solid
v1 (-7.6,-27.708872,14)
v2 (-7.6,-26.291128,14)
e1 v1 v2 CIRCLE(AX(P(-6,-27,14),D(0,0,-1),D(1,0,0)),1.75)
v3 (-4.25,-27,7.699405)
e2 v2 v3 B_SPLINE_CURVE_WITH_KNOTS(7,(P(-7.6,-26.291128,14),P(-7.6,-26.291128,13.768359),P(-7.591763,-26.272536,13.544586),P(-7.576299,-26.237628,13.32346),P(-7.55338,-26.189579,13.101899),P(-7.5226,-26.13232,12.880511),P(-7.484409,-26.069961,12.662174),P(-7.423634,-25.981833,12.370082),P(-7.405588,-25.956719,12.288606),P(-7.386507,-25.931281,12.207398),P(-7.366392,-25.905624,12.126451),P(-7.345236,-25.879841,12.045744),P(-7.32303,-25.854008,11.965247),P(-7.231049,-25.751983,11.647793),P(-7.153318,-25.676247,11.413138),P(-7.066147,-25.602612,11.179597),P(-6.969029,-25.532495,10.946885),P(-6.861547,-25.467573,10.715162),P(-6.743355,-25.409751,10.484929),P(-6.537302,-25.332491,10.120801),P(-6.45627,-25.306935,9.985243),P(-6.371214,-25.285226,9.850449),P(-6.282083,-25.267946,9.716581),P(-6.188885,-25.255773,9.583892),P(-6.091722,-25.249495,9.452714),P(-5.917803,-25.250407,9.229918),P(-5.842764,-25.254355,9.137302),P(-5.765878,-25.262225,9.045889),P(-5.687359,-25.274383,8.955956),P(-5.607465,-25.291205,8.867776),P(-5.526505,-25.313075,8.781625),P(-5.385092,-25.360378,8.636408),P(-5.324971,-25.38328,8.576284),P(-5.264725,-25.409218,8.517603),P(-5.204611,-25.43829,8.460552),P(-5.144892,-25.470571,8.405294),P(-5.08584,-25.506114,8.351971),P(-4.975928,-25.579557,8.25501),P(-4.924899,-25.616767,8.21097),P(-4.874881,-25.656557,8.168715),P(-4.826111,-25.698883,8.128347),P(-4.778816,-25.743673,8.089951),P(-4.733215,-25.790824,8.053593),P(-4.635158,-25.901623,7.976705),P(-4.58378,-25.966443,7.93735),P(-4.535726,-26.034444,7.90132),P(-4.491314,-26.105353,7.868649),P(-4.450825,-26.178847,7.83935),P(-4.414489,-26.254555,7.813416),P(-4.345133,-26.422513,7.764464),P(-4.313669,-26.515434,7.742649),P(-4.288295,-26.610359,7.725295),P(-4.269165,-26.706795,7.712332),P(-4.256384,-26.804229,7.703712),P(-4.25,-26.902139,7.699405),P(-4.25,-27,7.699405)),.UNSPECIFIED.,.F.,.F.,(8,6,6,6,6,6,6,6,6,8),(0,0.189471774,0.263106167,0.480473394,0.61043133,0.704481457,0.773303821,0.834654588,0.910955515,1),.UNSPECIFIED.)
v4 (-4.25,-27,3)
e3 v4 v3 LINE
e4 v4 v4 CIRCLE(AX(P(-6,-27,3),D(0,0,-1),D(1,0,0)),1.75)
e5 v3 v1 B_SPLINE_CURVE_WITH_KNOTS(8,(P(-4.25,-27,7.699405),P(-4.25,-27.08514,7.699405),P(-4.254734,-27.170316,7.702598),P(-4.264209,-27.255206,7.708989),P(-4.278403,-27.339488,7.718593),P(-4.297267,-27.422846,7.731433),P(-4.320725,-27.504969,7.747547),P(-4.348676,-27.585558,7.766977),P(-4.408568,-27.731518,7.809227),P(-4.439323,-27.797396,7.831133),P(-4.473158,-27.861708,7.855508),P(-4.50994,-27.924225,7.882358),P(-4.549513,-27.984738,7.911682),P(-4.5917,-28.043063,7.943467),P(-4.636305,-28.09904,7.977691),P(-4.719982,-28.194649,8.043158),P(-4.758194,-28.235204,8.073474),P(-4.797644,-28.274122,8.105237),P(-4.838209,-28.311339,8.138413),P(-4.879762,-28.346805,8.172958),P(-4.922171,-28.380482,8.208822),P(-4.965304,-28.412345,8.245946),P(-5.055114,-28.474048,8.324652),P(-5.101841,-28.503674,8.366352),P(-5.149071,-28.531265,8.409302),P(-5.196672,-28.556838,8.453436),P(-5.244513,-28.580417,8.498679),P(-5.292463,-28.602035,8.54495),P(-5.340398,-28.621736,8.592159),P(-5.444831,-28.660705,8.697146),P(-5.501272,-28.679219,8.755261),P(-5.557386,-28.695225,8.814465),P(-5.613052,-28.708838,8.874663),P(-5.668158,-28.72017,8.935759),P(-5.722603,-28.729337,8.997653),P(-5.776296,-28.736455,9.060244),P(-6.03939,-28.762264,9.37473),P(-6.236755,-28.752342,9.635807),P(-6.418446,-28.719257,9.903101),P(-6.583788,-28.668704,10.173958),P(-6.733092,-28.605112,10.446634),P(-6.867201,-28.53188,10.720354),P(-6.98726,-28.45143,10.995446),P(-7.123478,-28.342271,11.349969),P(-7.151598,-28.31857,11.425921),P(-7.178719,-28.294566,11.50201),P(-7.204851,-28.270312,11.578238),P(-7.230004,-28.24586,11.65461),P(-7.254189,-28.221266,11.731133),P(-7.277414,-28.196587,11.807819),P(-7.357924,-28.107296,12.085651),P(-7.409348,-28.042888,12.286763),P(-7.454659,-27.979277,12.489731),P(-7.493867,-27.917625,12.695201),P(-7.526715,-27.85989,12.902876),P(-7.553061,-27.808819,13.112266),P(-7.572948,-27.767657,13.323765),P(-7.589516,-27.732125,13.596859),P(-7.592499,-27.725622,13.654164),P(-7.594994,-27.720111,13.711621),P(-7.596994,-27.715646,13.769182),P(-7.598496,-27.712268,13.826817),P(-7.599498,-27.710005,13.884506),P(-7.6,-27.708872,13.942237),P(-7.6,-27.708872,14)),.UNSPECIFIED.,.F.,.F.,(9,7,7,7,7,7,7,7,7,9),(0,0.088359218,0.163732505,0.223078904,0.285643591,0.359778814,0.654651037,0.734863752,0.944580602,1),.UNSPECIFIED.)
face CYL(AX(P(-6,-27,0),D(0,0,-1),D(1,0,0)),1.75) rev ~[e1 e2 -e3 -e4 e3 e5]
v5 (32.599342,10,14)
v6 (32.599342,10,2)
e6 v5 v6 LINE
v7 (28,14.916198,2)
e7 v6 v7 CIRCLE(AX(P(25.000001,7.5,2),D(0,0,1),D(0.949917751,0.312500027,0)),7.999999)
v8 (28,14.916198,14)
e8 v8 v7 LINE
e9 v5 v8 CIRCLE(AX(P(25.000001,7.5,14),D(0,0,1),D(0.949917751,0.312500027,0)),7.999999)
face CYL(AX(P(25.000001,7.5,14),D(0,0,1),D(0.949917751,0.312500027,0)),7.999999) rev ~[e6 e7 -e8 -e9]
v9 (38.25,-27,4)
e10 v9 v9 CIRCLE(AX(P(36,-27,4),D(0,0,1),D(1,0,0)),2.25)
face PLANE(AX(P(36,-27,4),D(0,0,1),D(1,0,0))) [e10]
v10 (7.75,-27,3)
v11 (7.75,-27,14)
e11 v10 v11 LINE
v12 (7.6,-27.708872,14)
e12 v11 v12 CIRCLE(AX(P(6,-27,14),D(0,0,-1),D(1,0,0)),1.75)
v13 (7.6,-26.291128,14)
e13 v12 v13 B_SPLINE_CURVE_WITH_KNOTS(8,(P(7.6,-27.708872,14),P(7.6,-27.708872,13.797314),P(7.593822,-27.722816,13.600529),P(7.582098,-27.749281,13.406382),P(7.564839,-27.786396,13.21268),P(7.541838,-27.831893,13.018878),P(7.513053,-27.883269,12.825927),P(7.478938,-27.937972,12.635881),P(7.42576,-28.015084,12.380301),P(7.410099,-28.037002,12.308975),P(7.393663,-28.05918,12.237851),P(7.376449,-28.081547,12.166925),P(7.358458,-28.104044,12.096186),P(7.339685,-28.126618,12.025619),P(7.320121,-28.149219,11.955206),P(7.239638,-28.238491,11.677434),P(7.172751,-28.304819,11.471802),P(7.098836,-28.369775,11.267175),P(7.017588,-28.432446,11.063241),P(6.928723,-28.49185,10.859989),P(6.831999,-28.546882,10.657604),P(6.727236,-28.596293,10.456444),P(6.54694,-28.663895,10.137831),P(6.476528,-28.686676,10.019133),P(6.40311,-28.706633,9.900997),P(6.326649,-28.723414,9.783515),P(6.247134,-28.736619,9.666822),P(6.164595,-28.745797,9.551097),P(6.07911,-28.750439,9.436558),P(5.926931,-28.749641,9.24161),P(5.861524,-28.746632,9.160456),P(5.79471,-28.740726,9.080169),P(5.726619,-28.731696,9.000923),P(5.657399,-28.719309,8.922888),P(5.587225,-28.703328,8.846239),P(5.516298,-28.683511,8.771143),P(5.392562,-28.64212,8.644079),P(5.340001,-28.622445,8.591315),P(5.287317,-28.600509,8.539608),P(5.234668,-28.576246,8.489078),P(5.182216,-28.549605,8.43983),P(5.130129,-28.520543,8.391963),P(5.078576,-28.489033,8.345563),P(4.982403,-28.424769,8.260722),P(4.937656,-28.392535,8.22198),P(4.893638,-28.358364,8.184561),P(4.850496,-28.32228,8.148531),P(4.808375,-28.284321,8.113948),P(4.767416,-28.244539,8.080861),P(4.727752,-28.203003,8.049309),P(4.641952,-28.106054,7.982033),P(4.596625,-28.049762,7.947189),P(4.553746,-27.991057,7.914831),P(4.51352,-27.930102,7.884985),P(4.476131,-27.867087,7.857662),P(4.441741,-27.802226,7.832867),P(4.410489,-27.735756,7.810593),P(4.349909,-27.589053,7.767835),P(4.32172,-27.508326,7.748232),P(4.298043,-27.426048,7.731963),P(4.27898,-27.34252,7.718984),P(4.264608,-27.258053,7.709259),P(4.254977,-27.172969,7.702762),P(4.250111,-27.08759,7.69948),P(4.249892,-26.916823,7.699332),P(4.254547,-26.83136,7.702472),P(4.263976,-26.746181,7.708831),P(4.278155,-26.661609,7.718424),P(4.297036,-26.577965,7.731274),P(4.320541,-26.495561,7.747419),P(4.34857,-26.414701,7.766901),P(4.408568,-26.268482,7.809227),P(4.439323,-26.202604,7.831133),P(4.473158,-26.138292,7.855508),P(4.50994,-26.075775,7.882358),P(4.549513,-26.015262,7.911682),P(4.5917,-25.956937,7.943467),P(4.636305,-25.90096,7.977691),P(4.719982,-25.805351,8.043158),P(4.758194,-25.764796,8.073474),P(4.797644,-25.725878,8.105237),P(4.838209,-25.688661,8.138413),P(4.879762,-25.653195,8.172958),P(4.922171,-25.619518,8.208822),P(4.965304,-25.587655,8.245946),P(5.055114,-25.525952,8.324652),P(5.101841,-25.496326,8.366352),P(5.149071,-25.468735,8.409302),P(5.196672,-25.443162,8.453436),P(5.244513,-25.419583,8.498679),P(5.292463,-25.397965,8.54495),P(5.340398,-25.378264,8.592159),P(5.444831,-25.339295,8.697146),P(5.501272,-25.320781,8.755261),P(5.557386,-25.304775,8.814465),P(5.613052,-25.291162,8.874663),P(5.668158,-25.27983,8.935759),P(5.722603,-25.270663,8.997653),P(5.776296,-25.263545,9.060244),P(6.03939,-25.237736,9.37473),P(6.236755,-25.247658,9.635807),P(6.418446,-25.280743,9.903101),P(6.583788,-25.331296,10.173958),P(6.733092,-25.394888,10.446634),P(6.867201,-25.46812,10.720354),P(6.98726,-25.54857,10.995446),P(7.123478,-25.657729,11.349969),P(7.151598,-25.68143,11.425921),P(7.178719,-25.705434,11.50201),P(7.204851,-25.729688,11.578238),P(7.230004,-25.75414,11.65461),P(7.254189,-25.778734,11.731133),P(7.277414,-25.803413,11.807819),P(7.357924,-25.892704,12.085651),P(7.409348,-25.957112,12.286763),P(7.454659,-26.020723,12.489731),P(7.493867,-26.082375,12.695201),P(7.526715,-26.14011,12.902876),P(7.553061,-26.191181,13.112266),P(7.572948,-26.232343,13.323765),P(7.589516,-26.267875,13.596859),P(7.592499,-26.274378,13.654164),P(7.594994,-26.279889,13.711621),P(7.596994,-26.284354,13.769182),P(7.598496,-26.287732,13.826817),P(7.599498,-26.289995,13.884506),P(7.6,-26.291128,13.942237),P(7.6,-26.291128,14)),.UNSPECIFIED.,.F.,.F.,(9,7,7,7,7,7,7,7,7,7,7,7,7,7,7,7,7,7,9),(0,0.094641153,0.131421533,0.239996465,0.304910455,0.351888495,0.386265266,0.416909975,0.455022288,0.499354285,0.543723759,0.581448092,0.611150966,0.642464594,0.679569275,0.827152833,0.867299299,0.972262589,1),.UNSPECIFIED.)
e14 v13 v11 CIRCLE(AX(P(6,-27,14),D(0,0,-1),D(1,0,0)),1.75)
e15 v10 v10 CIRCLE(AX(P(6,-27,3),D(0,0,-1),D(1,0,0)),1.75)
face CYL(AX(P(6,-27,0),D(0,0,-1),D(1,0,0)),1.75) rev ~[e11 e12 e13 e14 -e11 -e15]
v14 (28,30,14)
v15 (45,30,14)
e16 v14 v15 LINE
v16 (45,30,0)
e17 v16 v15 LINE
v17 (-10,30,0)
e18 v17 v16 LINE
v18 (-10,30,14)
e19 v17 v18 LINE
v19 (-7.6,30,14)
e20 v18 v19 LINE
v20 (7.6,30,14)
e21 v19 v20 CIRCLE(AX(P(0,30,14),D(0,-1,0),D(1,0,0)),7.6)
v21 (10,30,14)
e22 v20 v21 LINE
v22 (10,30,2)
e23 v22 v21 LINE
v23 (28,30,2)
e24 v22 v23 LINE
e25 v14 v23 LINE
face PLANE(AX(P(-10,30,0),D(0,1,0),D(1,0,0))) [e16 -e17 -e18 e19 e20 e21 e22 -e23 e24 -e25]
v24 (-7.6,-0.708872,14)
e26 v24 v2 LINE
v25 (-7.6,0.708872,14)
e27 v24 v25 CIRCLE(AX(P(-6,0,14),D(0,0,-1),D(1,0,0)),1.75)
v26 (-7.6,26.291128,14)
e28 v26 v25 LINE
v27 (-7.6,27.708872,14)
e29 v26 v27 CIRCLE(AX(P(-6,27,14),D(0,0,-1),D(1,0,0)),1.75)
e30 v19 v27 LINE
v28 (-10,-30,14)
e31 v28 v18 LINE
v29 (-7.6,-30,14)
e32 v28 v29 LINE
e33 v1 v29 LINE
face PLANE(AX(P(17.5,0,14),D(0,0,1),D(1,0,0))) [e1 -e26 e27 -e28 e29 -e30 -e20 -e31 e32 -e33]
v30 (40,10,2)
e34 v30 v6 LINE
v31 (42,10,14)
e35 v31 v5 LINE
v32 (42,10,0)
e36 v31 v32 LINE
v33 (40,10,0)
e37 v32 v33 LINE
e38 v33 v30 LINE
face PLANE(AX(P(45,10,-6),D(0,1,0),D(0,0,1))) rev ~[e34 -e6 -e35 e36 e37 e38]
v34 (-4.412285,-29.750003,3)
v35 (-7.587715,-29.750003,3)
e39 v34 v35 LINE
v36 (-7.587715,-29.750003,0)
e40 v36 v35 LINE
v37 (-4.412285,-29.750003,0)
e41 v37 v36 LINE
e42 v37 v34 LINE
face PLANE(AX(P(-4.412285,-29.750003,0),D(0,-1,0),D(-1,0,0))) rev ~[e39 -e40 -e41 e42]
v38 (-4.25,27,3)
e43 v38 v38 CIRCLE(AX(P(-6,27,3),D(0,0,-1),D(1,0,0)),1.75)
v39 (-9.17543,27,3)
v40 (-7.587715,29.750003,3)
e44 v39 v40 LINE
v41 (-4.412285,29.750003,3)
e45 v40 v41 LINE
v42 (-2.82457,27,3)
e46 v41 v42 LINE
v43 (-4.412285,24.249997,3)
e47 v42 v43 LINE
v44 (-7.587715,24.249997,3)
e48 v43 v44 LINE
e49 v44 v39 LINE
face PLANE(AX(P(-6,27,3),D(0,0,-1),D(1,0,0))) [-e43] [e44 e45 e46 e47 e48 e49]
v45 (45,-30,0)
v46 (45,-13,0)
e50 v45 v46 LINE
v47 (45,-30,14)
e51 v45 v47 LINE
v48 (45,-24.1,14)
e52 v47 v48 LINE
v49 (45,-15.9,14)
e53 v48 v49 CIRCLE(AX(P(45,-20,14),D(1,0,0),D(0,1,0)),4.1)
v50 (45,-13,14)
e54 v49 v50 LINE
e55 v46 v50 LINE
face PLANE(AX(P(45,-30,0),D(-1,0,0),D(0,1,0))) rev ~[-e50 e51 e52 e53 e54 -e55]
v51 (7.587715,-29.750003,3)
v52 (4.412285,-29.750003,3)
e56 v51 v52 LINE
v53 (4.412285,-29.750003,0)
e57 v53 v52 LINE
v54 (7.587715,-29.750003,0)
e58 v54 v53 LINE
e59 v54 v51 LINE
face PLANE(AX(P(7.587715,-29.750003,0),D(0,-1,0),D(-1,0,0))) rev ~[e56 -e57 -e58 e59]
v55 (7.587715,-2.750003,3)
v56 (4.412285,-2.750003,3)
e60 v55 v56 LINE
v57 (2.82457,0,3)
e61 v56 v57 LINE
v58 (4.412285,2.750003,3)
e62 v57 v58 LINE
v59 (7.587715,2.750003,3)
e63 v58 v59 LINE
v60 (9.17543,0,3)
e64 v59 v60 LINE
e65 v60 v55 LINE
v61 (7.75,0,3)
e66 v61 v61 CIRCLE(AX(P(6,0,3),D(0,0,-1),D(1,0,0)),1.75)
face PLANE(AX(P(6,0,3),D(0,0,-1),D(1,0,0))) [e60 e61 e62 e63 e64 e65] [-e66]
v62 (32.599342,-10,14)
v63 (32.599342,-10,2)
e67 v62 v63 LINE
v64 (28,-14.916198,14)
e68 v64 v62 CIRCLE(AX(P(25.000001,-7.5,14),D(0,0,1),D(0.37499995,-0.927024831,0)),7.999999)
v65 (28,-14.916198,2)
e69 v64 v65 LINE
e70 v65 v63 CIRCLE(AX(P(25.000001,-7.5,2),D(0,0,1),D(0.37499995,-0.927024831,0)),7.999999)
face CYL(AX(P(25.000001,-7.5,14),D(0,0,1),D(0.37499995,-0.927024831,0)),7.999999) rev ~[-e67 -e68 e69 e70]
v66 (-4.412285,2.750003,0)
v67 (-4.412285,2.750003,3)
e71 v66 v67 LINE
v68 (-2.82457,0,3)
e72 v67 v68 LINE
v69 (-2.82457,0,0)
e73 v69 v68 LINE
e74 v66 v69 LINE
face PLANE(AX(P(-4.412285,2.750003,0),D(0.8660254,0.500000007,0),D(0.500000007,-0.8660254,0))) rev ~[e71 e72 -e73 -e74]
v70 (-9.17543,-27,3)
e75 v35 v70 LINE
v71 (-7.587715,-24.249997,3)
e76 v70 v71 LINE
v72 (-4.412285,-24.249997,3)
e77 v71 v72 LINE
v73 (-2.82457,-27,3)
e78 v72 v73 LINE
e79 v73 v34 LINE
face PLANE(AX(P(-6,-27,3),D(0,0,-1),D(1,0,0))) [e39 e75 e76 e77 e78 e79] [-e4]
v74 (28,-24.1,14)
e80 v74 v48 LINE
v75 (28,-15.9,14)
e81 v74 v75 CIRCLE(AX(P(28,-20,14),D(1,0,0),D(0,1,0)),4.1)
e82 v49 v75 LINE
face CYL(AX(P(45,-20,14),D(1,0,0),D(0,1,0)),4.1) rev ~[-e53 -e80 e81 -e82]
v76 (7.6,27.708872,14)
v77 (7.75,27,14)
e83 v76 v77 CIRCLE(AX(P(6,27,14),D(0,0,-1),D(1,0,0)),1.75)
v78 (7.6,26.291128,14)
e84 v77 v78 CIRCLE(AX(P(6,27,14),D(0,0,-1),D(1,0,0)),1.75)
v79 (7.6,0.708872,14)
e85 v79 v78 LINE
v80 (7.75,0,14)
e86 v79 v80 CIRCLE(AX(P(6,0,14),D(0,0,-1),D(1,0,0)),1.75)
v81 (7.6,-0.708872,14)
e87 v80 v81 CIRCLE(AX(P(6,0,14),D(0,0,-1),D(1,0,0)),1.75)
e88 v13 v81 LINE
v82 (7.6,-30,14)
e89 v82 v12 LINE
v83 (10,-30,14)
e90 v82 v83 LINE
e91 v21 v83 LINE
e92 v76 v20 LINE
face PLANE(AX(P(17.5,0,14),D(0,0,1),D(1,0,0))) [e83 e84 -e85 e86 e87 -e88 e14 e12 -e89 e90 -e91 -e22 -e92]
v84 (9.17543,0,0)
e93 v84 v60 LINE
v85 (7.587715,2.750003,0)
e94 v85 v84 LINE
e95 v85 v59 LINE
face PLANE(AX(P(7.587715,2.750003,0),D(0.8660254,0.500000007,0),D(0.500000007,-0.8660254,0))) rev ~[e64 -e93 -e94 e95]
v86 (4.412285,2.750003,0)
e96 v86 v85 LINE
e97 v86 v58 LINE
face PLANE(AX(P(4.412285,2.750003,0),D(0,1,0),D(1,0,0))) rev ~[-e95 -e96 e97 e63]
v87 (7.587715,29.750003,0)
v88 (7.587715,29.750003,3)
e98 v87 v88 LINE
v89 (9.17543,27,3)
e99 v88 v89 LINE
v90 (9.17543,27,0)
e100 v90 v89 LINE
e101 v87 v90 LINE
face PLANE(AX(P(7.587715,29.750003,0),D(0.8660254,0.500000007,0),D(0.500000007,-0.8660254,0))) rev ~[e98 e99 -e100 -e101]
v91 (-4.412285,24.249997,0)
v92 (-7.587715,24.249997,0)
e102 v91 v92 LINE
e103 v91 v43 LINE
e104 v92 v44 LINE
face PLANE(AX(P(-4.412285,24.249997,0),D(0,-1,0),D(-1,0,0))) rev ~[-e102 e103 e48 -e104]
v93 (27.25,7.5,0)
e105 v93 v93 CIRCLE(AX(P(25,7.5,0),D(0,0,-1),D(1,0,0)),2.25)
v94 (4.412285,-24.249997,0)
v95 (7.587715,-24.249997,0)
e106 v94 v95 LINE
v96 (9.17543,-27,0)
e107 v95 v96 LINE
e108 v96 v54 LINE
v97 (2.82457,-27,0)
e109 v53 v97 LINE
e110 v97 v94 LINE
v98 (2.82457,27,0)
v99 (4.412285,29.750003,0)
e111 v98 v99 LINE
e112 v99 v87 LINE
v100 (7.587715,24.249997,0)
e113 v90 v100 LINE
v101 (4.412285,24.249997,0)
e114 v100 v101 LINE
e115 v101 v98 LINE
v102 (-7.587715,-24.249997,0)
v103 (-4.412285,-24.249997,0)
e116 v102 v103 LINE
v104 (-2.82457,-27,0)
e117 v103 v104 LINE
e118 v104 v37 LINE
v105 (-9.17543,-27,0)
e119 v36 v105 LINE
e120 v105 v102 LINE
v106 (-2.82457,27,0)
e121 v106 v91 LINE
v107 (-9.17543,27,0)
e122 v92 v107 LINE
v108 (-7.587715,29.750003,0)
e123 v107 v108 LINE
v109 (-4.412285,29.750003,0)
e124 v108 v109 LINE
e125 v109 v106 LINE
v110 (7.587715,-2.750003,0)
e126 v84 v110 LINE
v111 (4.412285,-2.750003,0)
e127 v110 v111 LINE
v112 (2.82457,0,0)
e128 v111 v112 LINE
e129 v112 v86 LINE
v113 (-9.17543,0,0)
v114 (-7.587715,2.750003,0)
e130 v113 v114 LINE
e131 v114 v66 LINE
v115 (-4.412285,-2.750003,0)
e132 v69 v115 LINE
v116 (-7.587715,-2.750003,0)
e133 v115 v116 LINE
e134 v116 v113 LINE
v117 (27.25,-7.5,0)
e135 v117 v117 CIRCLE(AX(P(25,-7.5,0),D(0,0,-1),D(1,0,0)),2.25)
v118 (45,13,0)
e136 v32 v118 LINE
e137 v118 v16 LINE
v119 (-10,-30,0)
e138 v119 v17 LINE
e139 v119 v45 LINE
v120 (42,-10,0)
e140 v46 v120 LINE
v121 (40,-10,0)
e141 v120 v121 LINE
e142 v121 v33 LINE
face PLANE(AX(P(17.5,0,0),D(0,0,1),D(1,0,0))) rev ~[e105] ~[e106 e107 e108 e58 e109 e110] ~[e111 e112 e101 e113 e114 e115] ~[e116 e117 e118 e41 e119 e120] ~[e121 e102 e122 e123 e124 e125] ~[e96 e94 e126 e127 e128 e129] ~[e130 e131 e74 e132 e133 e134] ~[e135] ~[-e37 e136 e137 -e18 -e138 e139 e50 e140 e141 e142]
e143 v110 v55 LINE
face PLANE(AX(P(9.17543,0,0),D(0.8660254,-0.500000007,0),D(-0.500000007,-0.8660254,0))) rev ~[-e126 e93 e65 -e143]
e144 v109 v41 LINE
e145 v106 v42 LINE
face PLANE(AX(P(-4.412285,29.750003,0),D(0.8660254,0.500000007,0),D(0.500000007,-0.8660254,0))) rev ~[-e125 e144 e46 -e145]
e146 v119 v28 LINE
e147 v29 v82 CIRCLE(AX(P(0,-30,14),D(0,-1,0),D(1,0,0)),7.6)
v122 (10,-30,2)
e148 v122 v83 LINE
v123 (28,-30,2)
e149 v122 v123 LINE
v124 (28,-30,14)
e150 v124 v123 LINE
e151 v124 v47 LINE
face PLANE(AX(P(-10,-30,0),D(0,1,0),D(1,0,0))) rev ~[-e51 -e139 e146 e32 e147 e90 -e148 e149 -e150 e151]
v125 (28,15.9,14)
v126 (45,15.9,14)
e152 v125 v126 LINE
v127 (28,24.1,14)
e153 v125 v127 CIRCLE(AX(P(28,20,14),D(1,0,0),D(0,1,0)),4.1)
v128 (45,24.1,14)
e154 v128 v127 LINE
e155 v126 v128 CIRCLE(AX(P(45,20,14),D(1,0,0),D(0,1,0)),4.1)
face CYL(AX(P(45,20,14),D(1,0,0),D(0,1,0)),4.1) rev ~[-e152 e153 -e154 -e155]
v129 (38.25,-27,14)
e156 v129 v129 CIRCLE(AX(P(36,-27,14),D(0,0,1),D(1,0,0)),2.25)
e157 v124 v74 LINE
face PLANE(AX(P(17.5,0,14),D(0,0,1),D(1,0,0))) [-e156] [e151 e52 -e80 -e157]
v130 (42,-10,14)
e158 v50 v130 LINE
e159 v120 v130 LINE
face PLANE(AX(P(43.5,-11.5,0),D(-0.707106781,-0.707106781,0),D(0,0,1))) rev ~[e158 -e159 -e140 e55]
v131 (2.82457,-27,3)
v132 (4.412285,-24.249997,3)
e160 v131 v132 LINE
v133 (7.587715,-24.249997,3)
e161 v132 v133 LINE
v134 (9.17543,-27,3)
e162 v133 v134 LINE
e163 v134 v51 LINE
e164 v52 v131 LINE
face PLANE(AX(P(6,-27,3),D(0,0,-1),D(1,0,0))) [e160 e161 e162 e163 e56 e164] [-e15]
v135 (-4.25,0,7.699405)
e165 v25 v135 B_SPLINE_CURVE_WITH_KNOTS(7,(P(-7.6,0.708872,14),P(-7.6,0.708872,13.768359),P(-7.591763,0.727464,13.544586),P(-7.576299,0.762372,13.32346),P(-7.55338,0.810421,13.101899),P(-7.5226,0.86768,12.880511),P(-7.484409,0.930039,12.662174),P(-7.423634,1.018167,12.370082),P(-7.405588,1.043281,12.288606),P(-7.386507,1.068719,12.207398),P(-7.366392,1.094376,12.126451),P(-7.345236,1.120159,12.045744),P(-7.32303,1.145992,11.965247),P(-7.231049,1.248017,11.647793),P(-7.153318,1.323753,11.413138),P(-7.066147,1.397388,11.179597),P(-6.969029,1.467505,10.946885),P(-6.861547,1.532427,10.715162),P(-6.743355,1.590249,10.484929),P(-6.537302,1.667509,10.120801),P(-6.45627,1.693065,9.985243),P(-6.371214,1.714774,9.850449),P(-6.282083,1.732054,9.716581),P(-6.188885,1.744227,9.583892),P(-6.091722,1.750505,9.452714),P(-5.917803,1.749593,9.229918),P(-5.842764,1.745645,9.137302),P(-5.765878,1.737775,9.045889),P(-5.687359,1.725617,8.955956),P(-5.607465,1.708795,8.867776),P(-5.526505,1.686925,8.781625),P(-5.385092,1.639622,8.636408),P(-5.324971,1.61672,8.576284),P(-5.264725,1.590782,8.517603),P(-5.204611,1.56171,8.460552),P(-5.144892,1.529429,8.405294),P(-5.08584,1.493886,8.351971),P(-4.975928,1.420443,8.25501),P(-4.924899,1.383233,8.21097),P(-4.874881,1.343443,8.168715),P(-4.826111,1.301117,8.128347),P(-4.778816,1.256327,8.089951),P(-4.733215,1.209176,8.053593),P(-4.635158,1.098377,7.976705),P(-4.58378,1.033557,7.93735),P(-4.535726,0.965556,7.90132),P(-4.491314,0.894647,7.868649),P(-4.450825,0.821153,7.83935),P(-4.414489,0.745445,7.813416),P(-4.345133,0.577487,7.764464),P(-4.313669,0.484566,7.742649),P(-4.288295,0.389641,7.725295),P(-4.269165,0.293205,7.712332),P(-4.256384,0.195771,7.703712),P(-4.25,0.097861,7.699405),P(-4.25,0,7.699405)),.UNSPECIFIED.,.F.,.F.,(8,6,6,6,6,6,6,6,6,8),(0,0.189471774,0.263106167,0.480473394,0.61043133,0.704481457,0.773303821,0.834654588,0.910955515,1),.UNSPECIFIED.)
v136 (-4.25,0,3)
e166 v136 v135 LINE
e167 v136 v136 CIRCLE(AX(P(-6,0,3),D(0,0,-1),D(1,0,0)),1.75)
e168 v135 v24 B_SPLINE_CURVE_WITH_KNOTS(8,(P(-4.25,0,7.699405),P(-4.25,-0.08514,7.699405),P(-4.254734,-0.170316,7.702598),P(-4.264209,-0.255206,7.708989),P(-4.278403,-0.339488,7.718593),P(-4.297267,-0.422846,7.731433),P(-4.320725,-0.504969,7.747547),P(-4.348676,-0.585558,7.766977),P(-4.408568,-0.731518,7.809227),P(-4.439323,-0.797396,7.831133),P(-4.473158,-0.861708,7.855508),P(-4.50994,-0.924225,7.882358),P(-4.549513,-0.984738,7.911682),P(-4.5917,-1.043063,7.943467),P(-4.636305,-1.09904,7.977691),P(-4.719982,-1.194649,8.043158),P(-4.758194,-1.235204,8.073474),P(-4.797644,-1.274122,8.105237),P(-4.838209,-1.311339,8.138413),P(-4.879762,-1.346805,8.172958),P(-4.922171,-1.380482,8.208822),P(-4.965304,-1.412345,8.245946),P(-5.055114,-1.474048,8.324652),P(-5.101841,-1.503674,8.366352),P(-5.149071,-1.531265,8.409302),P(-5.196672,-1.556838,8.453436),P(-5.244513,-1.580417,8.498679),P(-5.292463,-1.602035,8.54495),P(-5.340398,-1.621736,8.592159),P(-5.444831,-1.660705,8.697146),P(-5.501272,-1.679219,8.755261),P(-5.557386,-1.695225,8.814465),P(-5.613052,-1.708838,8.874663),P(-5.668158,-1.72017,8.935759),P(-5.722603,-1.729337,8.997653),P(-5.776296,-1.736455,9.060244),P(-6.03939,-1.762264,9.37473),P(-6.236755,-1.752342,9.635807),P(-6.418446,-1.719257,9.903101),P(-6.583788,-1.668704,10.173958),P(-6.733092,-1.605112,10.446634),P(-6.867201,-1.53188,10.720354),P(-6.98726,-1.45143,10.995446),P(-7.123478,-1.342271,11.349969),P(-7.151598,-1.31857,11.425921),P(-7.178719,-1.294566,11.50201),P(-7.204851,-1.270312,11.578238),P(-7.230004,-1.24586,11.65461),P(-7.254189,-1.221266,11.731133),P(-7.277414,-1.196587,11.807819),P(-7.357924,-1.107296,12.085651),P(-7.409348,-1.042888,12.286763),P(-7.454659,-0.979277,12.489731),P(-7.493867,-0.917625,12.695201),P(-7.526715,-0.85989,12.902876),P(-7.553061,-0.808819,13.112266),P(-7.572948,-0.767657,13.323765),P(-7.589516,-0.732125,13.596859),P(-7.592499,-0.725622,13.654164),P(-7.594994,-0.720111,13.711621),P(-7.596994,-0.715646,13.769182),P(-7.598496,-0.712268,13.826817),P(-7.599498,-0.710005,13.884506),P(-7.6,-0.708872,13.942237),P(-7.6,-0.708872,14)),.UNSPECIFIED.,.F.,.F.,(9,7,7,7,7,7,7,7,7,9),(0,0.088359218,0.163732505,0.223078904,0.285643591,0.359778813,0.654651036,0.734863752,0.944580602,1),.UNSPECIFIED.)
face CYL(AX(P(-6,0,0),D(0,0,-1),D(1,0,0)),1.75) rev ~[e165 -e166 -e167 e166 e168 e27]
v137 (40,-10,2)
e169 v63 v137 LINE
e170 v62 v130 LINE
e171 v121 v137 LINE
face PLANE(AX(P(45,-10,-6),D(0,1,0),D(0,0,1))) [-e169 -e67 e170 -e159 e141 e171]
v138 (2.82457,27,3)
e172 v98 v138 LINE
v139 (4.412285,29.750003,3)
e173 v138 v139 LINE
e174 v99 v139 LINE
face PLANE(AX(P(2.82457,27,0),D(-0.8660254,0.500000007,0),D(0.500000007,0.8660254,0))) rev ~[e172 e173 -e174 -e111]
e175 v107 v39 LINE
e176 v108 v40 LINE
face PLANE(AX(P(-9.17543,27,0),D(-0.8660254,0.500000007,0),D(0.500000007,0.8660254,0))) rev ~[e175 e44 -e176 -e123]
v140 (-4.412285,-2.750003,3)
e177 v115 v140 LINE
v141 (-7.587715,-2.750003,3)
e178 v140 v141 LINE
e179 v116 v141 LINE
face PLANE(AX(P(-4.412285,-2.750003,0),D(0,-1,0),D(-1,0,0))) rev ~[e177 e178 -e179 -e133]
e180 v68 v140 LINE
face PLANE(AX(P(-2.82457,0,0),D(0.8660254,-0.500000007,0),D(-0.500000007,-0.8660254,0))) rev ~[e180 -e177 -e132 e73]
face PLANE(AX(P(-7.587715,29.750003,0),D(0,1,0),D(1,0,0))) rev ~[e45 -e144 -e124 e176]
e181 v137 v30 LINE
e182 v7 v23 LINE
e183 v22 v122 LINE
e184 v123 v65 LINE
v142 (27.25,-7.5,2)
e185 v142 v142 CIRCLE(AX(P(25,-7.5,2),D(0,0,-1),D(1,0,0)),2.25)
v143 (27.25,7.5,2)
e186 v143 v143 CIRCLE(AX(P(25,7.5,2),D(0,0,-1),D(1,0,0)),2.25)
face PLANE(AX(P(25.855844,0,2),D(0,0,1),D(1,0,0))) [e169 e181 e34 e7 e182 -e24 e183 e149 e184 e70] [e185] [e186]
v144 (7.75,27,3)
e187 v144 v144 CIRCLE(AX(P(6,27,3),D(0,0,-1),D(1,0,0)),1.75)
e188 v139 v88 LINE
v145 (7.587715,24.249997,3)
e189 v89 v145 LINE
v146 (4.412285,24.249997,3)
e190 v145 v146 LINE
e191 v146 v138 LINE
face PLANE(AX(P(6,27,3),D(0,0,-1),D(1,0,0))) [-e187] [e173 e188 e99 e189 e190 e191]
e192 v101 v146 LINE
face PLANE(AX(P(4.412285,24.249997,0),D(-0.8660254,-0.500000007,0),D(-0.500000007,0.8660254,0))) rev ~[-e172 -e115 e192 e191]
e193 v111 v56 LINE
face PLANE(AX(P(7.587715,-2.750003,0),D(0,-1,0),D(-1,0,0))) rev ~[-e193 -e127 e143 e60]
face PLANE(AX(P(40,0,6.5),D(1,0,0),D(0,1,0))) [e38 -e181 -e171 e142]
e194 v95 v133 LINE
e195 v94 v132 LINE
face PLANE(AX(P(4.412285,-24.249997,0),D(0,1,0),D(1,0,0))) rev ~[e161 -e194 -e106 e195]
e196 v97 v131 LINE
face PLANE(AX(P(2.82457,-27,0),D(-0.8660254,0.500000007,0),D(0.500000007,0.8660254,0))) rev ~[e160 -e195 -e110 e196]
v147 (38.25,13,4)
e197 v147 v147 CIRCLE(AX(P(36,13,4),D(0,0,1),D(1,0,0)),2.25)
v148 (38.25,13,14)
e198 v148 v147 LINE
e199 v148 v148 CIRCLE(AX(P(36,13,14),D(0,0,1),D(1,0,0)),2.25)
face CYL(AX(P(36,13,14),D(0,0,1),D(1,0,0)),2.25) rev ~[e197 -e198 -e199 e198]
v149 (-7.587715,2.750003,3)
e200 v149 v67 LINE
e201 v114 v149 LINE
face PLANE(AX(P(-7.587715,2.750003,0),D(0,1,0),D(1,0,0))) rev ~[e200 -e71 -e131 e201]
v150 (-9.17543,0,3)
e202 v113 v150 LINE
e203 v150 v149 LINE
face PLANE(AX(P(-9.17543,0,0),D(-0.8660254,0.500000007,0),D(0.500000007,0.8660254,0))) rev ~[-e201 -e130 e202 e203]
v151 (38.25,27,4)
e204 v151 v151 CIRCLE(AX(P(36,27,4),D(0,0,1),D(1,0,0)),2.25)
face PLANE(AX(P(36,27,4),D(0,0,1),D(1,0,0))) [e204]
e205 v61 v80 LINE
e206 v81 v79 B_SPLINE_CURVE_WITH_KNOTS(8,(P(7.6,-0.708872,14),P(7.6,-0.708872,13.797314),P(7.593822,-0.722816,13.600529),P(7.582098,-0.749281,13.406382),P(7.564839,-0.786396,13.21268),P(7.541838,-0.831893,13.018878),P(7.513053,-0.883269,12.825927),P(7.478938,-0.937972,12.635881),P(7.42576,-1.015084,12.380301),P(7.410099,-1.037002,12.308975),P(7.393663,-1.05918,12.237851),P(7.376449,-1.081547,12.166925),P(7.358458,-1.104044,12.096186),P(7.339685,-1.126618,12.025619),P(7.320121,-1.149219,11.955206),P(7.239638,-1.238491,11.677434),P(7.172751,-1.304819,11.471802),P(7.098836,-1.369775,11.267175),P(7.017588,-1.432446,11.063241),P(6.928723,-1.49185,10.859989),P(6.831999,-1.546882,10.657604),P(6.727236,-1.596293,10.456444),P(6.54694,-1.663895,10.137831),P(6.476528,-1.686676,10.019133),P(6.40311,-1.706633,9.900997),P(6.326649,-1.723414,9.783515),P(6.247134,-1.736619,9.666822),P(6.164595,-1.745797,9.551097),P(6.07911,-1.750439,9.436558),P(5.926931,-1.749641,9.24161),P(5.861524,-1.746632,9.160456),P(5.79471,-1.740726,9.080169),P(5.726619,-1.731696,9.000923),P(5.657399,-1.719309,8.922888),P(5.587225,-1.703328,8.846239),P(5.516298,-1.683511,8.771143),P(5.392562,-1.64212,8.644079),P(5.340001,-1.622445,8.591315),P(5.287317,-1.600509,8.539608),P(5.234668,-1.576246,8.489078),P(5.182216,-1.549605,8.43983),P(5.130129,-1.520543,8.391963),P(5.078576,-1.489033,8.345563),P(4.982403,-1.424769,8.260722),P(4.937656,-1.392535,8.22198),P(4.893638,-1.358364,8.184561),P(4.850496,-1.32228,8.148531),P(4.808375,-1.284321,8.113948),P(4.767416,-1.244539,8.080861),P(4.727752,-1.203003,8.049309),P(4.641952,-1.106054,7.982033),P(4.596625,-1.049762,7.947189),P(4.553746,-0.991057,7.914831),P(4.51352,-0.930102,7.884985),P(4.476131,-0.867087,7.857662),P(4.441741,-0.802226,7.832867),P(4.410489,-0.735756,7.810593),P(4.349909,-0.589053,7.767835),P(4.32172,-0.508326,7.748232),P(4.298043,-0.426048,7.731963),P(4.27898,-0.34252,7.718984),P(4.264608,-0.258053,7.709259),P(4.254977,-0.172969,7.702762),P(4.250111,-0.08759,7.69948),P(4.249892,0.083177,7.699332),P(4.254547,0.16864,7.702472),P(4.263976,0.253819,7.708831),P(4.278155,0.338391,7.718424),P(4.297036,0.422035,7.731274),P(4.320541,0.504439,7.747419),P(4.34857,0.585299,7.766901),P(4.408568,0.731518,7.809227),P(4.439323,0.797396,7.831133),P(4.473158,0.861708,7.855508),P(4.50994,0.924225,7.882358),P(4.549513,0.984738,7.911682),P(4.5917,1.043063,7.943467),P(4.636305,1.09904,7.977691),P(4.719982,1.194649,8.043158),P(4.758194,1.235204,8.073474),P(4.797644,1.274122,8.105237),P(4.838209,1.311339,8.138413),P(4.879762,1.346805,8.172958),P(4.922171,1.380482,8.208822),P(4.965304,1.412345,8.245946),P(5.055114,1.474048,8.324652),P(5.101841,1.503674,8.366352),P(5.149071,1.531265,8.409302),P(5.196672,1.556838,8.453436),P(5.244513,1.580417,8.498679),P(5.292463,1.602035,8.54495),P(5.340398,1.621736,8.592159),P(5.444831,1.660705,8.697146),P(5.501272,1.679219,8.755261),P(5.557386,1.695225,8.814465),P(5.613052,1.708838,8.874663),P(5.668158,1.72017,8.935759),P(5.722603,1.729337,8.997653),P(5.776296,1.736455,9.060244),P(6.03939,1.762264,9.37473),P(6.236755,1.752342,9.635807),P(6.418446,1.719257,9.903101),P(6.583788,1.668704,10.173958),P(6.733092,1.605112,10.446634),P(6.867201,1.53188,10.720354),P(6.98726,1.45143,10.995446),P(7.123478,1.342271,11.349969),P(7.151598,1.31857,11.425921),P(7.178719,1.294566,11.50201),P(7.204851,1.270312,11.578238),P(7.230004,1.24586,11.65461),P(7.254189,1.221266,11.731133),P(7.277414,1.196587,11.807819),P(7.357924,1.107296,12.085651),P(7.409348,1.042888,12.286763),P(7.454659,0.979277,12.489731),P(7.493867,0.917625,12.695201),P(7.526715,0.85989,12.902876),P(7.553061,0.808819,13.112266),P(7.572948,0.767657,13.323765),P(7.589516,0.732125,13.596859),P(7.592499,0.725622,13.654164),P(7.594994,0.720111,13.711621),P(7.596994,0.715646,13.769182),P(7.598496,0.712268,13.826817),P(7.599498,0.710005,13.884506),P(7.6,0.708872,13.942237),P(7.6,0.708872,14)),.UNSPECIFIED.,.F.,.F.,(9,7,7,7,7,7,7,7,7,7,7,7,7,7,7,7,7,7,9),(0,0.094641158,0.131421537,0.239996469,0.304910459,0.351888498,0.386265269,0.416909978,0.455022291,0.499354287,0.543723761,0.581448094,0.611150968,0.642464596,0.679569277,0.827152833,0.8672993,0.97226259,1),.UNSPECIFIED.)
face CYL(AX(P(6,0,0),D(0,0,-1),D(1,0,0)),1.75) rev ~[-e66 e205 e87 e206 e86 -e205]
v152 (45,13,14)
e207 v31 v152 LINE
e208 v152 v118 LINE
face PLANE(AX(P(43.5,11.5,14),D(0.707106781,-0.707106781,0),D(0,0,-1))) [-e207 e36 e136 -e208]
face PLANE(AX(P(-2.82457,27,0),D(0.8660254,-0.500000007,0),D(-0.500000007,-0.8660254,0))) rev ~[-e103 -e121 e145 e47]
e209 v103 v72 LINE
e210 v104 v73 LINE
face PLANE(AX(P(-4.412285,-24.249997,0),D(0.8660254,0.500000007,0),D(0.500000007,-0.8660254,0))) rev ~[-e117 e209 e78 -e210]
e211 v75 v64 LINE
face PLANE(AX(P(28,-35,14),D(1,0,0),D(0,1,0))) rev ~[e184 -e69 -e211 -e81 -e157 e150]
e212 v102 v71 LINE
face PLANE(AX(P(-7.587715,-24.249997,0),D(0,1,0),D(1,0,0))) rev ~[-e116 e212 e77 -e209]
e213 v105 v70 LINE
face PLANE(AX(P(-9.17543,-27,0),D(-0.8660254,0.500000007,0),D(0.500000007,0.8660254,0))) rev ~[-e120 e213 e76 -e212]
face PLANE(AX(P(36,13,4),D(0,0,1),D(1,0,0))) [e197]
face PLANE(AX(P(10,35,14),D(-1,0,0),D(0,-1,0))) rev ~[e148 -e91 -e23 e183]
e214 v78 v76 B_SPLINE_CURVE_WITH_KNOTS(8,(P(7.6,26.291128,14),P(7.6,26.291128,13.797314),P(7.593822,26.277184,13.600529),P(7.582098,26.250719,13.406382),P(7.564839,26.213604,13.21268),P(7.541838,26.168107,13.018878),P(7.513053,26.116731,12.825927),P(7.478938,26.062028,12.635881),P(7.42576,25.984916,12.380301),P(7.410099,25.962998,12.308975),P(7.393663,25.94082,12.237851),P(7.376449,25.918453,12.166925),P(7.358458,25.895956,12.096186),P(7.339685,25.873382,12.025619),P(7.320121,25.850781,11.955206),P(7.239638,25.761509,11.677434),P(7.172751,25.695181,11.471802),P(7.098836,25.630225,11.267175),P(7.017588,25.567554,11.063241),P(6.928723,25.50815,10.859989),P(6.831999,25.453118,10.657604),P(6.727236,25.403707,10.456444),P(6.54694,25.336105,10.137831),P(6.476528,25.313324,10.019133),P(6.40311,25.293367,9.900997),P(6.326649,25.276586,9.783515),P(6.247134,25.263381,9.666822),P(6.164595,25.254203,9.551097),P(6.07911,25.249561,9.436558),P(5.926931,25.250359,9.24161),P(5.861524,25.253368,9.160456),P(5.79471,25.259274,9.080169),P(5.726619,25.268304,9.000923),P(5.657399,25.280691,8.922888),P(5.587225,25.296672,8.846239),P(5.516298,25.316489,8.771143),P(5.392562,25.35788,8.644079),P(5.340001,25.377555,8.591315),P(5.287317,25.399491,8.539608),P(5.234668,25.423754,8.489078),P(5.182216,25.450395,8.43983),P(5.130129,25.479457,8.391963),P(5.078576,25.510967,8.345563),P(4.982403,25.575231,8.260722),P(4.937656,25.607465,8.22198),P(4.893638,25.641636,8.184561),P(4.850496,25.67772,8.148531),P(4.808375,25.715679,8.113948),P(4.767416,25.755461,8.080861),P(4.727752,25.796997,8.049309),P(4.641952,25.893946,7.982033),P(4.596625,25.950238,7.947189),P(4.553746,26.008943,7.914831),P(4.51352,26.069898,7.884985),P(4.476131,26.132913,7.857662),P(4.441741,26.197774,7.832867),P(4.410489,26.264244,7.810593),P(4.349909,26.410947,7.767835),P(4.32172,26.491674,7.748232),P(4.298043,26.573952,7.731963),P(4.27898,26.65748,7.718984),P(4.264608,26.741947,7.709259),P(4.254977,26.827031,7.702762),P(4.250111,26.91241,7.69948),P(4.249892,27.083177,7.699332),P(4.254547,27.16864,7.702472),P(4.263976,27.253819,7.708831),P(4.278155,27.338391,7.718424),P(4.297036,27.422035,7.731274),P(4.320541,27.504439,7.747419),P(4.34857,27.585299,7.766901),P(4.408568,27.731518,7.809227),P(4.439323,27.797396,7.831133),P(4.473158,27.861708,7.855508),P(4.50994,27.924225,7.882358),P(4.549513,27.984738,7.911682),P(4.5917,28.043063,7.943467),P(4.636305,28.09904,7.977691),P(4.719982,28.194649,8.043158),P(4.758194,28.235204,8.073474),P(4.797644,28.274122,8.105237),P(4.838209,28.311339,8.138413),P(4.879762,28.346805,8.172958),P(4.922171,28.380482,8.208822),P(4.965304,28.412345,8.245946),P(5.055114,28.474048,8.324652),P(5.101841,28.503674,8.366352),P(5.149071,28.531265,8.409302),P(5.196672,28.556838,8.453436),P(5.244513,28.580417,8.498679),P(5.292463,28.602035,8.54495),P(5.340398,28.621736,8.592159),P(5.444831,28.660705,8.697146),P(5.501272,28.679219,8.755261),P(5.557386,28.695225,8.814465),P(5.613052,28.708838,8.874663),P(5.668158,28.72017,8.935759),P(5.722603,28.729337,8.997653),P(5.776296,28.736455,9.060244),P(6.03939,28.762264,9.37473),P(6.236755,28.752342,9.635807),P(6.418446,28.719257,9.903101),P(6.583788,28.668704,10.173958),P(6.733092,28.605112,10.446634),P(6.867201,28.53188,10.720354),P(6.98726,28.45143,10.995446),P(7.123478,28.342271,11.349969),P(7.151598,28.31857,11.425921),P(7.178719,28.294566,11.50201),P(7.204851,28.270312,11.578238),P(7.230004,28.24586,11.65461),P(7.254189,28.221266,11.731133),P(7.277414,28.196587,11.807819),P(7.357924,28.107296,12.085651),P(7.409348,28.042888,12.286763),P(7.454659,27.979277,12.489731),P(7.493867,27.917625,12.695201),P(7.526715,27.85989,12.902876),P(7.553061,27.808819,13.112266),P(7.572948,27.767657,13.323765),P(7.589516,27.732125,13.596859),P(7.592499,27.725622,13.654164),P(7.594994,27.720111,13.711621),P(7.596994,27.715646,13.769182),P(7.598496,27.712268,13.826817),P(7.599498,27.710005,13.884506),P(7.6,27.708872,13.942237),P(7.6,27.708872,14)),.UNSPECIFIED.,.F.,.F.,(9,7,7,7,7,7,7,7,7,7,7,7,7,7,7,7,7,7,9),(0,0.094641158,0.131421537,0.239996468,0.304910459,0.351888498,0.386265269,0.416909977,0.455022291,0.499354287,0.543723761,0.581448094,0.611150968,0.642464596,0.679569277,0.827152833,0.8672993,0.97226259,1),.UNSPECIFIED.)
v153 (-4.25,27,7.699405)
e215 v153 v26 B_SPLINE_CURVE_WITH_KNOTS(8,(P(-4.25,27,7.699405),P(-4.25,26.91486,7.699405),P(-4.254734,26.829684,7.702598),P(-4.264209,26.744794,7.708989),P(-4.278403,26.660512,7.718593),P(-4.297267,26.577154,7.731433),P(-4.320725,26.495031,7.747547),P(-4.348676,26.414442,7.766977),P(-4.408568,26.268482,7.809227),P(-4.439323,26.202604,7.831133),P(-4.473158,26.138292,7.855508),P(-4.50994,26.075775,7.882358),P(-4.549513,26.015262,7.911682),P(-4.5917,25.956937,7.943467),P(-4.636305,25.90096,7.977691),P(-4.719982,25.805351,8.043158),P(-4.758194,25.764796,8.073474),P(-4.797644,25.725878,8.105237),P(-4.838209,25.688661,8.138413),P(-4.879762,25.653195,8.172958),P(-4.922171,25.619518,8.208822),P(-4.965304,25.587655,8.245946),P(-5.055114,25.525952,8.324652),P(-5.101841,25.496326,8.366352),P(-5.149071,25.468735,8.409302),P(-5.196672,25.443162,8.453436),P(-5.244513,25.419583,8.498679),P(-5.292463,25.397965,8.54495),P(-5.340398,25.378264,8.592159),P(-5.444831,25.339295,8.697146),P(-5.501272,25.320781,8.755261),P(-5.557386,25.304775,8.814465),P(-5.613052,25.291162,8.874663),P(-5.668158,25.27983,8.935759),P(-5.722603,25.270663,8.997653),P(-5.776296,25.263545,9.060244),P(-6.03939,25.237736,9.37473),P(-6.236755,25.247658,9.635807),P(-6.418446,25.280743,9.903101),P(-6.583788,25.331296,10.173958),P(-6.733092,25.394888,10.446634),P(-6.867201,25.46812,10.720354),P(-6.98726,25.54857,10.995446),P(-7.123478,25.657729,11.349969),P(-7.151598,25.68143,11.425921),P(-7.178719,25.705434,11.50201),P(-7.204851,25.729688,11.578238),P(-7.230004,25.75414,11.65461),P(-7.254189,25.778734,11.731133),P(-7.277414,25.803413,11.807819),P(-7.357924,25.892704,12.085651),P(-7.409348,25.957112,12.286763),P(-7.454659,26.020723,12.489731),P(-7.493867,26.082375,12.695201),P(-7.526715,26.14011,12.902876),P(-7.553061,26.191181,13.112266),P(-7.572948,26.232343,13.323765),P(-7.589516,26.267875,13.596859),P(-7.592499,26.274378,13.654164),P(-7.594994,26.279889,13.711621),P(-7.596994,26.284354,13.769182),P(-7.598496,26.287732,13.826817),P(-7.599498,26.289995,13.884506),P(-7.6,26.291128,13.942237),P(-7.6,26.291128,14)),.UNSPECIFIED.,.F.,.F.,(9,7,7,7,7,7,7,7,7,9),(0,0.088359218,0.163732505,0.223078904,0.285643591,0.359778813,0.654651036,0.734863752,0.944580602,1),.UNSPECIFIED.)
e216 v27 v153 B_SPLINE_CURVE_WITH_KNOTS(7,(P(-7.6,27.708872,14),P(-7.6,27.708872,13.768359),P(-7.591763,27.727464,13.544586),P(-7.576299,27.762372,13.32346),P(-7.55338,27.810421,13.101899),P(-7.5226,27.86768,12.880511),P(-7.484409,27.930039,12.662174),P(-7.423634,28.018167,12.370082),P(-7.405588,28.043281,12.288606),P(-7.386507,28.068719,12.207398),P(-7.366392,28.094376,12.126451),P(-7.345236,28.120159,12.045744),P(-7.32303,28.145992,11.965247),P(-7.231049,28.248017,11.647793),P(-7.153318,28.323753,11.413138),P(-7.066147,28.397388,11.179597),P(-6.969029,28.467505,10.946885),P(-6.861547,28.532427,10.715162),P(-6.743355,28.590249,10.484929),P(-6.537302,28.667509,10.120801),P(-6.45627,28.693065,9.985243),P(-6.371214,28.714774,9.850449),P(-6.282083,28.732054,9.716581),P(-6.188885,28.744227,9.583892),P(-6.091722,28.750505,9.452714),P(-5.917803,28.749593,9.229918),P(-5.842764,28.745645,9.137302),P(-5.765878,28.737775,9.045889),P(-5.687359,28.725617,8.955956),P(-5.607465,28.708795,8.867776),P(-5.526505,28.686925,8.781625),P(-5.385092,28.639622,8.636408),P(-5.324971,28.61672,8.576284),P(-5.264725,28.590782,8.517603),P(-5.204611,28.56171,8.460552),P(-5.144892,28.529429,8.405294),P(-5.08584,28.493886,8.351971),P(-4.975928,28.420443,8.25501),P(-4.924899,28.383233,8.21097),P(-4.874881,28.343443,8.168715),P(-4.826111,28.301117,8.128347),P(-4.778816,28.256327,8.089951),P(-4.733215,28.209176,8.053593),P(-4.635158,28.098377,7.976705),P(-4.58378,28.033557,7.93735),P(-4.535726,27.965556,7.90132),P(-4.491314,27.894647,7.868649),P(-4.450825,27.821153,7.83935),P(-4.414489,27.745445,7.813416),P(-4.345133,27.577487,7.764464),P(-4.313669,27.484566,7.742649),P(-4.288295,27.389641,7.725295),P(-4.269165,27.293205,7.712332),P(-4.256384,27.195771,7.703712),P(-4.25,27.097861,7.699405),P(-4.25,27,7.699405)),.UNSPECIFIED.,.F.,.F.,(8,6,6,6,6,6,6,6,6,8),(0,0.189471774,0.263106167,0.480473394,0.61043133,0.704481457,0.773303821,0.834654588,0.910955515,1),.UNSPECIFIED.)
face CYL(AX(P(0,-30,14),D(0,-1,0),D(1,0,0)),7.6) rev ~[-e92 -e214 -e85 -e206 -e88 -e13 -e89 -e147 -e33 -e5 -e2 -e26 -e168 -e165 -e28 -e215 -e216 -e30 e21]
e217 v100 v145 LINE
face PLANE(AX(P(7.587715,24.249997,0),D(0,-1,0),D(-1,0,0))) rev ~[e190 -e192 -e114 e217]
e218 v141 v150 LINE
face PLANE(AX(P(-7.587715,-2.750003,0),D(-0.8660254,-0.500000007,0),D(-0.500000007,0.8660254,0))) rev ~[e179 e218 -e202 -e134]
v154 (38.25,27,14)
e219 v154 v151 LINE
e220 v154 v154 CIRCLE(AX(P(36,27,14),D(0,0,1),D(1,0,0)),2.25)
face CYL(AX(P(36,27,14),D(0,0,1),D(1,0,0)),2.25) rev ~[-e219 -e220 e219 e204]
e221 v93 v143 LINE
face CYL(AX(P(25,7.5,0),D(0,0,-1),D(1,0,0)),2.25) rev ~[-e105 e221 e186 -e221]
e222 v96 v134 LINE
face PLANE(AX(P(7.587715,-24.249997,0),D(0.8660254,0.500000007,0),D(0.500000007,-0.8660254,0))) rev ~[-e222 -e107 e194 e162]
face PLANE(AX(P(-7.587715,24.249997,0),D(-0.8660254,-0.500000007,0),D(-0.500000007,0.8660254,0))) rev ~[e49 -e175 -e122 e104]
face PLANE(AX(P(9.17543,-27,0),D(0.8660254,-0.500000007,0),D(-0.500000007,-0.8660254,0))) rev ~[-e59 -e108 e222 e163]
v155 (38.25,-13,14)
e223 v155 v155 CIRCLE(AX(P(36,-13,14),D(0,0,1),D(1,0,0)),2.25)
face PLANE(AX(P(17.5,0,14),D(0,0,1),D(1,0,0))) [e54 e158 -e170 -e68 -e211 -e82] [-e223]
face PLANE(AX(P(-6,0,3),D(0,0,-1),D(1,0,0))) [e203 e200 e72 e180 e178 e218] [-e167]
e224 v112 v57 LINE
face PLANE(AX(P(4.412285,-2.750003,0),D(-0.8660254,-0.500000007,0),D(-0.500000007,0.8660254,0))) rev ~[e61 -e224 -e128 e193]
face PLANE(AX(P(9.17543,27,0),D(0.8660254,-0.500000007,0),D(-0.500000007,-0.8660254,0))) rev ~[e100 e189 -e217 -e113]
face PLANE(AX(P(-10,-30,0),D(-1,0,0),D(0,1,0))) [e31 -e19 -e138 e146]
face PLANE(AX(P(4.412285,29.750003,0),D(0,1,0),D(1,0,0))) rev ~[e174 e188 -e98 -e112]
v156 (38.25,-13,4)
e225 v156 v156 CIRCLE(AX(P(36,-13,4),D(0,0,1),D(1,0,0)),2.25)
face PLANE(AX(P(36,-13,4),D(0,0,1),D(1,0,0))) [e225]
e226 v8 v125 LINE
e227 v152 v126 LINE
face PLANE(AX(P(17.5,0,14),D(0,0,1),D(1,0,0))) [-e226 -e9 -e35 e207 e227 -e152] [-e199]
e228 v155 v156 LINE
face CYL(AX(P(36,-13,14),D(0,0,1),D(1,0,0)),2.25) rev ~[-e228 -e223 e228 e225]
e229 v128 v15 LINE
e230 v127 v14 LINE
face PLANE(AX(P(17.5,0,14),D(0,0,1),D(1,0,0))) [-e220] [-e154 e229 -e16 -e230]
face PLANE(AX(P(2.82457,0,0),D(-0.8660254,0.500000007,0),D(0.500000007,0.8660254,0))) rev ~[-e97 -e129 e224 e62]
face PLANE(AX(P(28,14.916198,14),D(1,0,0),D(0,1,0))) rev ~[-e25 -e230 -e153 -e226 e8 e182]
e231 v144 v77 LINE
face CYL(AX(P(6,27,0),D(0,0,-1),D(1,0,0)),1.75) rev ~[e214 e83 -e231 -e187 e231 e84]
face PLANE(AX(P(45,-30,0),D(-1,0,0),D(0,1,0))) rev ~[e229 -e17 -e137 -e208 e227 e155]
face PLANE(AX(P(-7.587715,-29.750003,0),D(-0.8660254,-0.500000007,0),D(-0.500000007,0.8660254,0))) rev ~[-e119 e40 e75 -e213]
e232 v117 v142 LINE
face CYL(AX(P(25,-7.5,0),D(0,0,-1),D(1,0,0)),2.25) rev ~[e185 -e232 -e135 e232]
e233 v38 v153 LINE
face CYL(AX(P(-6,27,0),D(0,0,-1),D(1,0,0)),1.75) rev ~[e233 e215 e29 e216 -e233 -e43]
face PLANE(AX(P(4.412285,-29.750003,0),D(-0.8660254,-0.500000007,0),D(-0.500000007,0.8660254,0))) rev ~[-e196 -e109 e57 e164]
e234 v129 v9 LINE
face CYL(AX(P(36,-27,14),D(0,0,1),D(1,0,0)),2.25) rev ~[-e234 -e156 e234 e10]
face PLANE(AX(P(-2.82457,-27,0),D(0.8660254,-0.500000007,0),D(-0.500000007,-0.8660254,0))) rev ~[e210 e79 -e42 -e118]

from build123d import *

# Parameters (mm, degrees)
SKETCH_W        = 55
SKETCH_H        = 60
PAD_DEPTH       = 14
SKETCH001_R     = 7.6
POCKET_DEPTH    = 60.001
SKETCH002_R     = 1.75
POCKET001_DEPTH = 14.001
POCKET002_DEPTH = 12
SKETCH004_R     = 2.25
POCKET003_DEPTH = 14.001
SKETCH008_R     = 4.1
POCKET005_DEPTH = 20
SKETCH010_W     = 20
SKETCH010_H     = 25
POCKET006_DEPTH = 5
SKETCH011_R     = 2.25
POCKET007_DEPTH = 10
CHAMFER_SIZE    = 3
CHAMFER001_SIZE = 3
POCKET008_DEPTH = 3


with BuildPart() as part:
    # Sketch → Pad (new body)
    with BuildSketch(Plane.XY):
        with Locations((17.5, 0)):
            Rectangle(SKETCH_W, SKETCH_H)
    extrude(amount=PAD_DEPTH)

    # Sketch001 → Pocket (cut, through all)
    with BuildSketch(Plane.XZ.offset(30)):
        with Locations((0, 14)):
            Circle(SKETCH001_R)
    extrude(amount=-POCKET_DEPTH, mode=Mode.SUBTRACT)

    # Sketch002 → Pocket001 (cut, through all)
    with BuildSketch(Plane(origin=(0, 0, 0), x_dir=(1, 0, 0), z_dir=(0, 0, -1))):
        with Locations((-6, 27)):
            Circle(SKETCH002_R)
        with Locations((-6, -27)):
            Circle(SKETCH002_R)
        with Locations((6, 27)):
            Circle(SKETCH002_R)
        with Locations((6, -27)):
            Circle(SKETCH002_R)
        with Locations((6, 0)):
            Circle(SKETCH002_R)
        with Locations((-6, 0)):
            Circle(SKETCH002_R)
    extrude(amount=-POCKET001_DEPTH, mode=Mode.SUBTRACT)

    # Sketch003 → Pocket002 (cut)
    with BuildSketch(Plane.XY.offset(14)):
        with BuildLine():
            Line((10, 35), (10, -35))
            Line((10, -35), (28, -35))
            Line((28, -35), (28, -14.916198))
            ThreePointArc((28, -14.916198), (30.841983, -12.965458), (32.599342, -10))
            Line((32.599342, -10), (52.599342, -10))
            Line((52.599342, -10), (52.599342, 10))
            Line((52.599342, 10), (32.599342, 10))
            ThreePointArc((32.599342, 10), (30.841983, 12.965458), (28, 14.916198))
            Line((28, 14.916198), (28, 35))
            Line((28, 35), (10, 35))
        make_face()
    extrude(amount=-POCKET002_DEPTH, mode=Mode.SUBTRACT)

    # Sketch004 → Pocket003 (cut, through all)
    with BuildSketch(Plane(origin=(0, 0, 0), x_dir=(1, 0, 0), z_dir=(0, 0, -1))):
        with Locations((25, 7.5)):
            Circle(SKETCH004_R)
        with Locations((25, -7.5)):
            Circle(SKETCH004_R)
    extrude(amount=-POCKET003_DEPTH, mode=Mode.SUBTRACT)

    # Sketch008 → Pocket005 (cut)
    with BuildSketch(Plane.YZ.offset(45)):
        with Locations((-20, 14)):
            Circle(SKETCH008_R)
        with Locations((20, 14)):
            Circle(SKETCH008_R)
    extrude(amount=-POCKET005_DEPTH, mode=Mode.SUBTRACT)

    # Sketch010 → Pocket006 (cut)
    with BuildSketch(Plane.YZ.offset(45)):
        with Locations((0, 6.5)):
            Rectangle(SKETCH010_W, SKETCH010_H)
    extrude(amount=-POCKET006_DEPTH, mode=Mode.SUBTRACT)

    # Sketch011 → Pocket007 (cut)
    with BuildSketch(Plane.XY.offset(14)):
        with Locations((36, 27)):
            Circle(SKETCH011_R)
        with Locations((36, 13)):
            Circle(SKETCH011_R)
        with Locations((36, -13)):
            Circle(SKETCH011_R)
        with Locations((36, -27)):
            Circle(SKETCH011_R)
    extrude(amount=-POCKET007_DEPTH, mode=Mode.SUBTRACT)

    # Chamfer
    chamfer_edges = [part.edges().sort_by_distance(p)[0] for p in [
        (45, -10, 8),
        (45, -10, 1),
    ]]
    chamfer(chamfer_edges, length=CHAMFER_SIZE)

    # Chamfer001
    chamfer001_edges = [part.edges().sort_by_distance(p)[0] for p in [
        (45, 10, 8),
        (45, 10, 1),
    ]]
    chamfer(chamfer001_edges, length=CHAMFER001_SIZE)

    # Sketch012 → Pocket008 (cut)
    with BuildSketch(Plane(origin=(0, 0, 0), x_dir=(1, 0, 0), z_dir=(0, 0, -1))):
        Polygon((-4.412285, 29.750003), (-7.587715, 29.750003), (-9.17543, 27), (-7.587715, 24.249997), (-4.412285, 24.249997), (-2.82457, 27), align=None)
        Polygon((7.587715, 29.750003), (4.412285, 29.750003), (2.82457, 27), (4.412285, 24.249997), (7.587715, 24.249997), (9.17543, 27), align=None)
        Polygon((-4.412285, 2.750003), (-7.587715, 2.750003), (-9.17543, 0), (-7.587715, -2.750003), (-4.412285, -2.750003), (-2.82457, 0), align=None)
        Polygon((7.587715, 2.750003), (4.412285, 2.750003), (2.82457, 0), (4.412285, -2.750003), (7.587715, -2.750003), (9.17543, 0), align=None)
        Polygon((-4.412285, -24.249997), (-7.587715, -24.249997), (-9.17543, -27), (-7.587715, -29.750003), (-4.412285, -29.750003), (-2.82457, -27), align=None)
        Polygon((7.587715, -24.249997), (4.412285, -24.249997), (2.82457, -27), (4.412285, -29.750003), (7.587715, -29.750003), (9.17543, -27), align=None)
    extrude(amount=-POCKET008_DEPTH, mode=Mode.SUBTRACT)


solid = part.part
